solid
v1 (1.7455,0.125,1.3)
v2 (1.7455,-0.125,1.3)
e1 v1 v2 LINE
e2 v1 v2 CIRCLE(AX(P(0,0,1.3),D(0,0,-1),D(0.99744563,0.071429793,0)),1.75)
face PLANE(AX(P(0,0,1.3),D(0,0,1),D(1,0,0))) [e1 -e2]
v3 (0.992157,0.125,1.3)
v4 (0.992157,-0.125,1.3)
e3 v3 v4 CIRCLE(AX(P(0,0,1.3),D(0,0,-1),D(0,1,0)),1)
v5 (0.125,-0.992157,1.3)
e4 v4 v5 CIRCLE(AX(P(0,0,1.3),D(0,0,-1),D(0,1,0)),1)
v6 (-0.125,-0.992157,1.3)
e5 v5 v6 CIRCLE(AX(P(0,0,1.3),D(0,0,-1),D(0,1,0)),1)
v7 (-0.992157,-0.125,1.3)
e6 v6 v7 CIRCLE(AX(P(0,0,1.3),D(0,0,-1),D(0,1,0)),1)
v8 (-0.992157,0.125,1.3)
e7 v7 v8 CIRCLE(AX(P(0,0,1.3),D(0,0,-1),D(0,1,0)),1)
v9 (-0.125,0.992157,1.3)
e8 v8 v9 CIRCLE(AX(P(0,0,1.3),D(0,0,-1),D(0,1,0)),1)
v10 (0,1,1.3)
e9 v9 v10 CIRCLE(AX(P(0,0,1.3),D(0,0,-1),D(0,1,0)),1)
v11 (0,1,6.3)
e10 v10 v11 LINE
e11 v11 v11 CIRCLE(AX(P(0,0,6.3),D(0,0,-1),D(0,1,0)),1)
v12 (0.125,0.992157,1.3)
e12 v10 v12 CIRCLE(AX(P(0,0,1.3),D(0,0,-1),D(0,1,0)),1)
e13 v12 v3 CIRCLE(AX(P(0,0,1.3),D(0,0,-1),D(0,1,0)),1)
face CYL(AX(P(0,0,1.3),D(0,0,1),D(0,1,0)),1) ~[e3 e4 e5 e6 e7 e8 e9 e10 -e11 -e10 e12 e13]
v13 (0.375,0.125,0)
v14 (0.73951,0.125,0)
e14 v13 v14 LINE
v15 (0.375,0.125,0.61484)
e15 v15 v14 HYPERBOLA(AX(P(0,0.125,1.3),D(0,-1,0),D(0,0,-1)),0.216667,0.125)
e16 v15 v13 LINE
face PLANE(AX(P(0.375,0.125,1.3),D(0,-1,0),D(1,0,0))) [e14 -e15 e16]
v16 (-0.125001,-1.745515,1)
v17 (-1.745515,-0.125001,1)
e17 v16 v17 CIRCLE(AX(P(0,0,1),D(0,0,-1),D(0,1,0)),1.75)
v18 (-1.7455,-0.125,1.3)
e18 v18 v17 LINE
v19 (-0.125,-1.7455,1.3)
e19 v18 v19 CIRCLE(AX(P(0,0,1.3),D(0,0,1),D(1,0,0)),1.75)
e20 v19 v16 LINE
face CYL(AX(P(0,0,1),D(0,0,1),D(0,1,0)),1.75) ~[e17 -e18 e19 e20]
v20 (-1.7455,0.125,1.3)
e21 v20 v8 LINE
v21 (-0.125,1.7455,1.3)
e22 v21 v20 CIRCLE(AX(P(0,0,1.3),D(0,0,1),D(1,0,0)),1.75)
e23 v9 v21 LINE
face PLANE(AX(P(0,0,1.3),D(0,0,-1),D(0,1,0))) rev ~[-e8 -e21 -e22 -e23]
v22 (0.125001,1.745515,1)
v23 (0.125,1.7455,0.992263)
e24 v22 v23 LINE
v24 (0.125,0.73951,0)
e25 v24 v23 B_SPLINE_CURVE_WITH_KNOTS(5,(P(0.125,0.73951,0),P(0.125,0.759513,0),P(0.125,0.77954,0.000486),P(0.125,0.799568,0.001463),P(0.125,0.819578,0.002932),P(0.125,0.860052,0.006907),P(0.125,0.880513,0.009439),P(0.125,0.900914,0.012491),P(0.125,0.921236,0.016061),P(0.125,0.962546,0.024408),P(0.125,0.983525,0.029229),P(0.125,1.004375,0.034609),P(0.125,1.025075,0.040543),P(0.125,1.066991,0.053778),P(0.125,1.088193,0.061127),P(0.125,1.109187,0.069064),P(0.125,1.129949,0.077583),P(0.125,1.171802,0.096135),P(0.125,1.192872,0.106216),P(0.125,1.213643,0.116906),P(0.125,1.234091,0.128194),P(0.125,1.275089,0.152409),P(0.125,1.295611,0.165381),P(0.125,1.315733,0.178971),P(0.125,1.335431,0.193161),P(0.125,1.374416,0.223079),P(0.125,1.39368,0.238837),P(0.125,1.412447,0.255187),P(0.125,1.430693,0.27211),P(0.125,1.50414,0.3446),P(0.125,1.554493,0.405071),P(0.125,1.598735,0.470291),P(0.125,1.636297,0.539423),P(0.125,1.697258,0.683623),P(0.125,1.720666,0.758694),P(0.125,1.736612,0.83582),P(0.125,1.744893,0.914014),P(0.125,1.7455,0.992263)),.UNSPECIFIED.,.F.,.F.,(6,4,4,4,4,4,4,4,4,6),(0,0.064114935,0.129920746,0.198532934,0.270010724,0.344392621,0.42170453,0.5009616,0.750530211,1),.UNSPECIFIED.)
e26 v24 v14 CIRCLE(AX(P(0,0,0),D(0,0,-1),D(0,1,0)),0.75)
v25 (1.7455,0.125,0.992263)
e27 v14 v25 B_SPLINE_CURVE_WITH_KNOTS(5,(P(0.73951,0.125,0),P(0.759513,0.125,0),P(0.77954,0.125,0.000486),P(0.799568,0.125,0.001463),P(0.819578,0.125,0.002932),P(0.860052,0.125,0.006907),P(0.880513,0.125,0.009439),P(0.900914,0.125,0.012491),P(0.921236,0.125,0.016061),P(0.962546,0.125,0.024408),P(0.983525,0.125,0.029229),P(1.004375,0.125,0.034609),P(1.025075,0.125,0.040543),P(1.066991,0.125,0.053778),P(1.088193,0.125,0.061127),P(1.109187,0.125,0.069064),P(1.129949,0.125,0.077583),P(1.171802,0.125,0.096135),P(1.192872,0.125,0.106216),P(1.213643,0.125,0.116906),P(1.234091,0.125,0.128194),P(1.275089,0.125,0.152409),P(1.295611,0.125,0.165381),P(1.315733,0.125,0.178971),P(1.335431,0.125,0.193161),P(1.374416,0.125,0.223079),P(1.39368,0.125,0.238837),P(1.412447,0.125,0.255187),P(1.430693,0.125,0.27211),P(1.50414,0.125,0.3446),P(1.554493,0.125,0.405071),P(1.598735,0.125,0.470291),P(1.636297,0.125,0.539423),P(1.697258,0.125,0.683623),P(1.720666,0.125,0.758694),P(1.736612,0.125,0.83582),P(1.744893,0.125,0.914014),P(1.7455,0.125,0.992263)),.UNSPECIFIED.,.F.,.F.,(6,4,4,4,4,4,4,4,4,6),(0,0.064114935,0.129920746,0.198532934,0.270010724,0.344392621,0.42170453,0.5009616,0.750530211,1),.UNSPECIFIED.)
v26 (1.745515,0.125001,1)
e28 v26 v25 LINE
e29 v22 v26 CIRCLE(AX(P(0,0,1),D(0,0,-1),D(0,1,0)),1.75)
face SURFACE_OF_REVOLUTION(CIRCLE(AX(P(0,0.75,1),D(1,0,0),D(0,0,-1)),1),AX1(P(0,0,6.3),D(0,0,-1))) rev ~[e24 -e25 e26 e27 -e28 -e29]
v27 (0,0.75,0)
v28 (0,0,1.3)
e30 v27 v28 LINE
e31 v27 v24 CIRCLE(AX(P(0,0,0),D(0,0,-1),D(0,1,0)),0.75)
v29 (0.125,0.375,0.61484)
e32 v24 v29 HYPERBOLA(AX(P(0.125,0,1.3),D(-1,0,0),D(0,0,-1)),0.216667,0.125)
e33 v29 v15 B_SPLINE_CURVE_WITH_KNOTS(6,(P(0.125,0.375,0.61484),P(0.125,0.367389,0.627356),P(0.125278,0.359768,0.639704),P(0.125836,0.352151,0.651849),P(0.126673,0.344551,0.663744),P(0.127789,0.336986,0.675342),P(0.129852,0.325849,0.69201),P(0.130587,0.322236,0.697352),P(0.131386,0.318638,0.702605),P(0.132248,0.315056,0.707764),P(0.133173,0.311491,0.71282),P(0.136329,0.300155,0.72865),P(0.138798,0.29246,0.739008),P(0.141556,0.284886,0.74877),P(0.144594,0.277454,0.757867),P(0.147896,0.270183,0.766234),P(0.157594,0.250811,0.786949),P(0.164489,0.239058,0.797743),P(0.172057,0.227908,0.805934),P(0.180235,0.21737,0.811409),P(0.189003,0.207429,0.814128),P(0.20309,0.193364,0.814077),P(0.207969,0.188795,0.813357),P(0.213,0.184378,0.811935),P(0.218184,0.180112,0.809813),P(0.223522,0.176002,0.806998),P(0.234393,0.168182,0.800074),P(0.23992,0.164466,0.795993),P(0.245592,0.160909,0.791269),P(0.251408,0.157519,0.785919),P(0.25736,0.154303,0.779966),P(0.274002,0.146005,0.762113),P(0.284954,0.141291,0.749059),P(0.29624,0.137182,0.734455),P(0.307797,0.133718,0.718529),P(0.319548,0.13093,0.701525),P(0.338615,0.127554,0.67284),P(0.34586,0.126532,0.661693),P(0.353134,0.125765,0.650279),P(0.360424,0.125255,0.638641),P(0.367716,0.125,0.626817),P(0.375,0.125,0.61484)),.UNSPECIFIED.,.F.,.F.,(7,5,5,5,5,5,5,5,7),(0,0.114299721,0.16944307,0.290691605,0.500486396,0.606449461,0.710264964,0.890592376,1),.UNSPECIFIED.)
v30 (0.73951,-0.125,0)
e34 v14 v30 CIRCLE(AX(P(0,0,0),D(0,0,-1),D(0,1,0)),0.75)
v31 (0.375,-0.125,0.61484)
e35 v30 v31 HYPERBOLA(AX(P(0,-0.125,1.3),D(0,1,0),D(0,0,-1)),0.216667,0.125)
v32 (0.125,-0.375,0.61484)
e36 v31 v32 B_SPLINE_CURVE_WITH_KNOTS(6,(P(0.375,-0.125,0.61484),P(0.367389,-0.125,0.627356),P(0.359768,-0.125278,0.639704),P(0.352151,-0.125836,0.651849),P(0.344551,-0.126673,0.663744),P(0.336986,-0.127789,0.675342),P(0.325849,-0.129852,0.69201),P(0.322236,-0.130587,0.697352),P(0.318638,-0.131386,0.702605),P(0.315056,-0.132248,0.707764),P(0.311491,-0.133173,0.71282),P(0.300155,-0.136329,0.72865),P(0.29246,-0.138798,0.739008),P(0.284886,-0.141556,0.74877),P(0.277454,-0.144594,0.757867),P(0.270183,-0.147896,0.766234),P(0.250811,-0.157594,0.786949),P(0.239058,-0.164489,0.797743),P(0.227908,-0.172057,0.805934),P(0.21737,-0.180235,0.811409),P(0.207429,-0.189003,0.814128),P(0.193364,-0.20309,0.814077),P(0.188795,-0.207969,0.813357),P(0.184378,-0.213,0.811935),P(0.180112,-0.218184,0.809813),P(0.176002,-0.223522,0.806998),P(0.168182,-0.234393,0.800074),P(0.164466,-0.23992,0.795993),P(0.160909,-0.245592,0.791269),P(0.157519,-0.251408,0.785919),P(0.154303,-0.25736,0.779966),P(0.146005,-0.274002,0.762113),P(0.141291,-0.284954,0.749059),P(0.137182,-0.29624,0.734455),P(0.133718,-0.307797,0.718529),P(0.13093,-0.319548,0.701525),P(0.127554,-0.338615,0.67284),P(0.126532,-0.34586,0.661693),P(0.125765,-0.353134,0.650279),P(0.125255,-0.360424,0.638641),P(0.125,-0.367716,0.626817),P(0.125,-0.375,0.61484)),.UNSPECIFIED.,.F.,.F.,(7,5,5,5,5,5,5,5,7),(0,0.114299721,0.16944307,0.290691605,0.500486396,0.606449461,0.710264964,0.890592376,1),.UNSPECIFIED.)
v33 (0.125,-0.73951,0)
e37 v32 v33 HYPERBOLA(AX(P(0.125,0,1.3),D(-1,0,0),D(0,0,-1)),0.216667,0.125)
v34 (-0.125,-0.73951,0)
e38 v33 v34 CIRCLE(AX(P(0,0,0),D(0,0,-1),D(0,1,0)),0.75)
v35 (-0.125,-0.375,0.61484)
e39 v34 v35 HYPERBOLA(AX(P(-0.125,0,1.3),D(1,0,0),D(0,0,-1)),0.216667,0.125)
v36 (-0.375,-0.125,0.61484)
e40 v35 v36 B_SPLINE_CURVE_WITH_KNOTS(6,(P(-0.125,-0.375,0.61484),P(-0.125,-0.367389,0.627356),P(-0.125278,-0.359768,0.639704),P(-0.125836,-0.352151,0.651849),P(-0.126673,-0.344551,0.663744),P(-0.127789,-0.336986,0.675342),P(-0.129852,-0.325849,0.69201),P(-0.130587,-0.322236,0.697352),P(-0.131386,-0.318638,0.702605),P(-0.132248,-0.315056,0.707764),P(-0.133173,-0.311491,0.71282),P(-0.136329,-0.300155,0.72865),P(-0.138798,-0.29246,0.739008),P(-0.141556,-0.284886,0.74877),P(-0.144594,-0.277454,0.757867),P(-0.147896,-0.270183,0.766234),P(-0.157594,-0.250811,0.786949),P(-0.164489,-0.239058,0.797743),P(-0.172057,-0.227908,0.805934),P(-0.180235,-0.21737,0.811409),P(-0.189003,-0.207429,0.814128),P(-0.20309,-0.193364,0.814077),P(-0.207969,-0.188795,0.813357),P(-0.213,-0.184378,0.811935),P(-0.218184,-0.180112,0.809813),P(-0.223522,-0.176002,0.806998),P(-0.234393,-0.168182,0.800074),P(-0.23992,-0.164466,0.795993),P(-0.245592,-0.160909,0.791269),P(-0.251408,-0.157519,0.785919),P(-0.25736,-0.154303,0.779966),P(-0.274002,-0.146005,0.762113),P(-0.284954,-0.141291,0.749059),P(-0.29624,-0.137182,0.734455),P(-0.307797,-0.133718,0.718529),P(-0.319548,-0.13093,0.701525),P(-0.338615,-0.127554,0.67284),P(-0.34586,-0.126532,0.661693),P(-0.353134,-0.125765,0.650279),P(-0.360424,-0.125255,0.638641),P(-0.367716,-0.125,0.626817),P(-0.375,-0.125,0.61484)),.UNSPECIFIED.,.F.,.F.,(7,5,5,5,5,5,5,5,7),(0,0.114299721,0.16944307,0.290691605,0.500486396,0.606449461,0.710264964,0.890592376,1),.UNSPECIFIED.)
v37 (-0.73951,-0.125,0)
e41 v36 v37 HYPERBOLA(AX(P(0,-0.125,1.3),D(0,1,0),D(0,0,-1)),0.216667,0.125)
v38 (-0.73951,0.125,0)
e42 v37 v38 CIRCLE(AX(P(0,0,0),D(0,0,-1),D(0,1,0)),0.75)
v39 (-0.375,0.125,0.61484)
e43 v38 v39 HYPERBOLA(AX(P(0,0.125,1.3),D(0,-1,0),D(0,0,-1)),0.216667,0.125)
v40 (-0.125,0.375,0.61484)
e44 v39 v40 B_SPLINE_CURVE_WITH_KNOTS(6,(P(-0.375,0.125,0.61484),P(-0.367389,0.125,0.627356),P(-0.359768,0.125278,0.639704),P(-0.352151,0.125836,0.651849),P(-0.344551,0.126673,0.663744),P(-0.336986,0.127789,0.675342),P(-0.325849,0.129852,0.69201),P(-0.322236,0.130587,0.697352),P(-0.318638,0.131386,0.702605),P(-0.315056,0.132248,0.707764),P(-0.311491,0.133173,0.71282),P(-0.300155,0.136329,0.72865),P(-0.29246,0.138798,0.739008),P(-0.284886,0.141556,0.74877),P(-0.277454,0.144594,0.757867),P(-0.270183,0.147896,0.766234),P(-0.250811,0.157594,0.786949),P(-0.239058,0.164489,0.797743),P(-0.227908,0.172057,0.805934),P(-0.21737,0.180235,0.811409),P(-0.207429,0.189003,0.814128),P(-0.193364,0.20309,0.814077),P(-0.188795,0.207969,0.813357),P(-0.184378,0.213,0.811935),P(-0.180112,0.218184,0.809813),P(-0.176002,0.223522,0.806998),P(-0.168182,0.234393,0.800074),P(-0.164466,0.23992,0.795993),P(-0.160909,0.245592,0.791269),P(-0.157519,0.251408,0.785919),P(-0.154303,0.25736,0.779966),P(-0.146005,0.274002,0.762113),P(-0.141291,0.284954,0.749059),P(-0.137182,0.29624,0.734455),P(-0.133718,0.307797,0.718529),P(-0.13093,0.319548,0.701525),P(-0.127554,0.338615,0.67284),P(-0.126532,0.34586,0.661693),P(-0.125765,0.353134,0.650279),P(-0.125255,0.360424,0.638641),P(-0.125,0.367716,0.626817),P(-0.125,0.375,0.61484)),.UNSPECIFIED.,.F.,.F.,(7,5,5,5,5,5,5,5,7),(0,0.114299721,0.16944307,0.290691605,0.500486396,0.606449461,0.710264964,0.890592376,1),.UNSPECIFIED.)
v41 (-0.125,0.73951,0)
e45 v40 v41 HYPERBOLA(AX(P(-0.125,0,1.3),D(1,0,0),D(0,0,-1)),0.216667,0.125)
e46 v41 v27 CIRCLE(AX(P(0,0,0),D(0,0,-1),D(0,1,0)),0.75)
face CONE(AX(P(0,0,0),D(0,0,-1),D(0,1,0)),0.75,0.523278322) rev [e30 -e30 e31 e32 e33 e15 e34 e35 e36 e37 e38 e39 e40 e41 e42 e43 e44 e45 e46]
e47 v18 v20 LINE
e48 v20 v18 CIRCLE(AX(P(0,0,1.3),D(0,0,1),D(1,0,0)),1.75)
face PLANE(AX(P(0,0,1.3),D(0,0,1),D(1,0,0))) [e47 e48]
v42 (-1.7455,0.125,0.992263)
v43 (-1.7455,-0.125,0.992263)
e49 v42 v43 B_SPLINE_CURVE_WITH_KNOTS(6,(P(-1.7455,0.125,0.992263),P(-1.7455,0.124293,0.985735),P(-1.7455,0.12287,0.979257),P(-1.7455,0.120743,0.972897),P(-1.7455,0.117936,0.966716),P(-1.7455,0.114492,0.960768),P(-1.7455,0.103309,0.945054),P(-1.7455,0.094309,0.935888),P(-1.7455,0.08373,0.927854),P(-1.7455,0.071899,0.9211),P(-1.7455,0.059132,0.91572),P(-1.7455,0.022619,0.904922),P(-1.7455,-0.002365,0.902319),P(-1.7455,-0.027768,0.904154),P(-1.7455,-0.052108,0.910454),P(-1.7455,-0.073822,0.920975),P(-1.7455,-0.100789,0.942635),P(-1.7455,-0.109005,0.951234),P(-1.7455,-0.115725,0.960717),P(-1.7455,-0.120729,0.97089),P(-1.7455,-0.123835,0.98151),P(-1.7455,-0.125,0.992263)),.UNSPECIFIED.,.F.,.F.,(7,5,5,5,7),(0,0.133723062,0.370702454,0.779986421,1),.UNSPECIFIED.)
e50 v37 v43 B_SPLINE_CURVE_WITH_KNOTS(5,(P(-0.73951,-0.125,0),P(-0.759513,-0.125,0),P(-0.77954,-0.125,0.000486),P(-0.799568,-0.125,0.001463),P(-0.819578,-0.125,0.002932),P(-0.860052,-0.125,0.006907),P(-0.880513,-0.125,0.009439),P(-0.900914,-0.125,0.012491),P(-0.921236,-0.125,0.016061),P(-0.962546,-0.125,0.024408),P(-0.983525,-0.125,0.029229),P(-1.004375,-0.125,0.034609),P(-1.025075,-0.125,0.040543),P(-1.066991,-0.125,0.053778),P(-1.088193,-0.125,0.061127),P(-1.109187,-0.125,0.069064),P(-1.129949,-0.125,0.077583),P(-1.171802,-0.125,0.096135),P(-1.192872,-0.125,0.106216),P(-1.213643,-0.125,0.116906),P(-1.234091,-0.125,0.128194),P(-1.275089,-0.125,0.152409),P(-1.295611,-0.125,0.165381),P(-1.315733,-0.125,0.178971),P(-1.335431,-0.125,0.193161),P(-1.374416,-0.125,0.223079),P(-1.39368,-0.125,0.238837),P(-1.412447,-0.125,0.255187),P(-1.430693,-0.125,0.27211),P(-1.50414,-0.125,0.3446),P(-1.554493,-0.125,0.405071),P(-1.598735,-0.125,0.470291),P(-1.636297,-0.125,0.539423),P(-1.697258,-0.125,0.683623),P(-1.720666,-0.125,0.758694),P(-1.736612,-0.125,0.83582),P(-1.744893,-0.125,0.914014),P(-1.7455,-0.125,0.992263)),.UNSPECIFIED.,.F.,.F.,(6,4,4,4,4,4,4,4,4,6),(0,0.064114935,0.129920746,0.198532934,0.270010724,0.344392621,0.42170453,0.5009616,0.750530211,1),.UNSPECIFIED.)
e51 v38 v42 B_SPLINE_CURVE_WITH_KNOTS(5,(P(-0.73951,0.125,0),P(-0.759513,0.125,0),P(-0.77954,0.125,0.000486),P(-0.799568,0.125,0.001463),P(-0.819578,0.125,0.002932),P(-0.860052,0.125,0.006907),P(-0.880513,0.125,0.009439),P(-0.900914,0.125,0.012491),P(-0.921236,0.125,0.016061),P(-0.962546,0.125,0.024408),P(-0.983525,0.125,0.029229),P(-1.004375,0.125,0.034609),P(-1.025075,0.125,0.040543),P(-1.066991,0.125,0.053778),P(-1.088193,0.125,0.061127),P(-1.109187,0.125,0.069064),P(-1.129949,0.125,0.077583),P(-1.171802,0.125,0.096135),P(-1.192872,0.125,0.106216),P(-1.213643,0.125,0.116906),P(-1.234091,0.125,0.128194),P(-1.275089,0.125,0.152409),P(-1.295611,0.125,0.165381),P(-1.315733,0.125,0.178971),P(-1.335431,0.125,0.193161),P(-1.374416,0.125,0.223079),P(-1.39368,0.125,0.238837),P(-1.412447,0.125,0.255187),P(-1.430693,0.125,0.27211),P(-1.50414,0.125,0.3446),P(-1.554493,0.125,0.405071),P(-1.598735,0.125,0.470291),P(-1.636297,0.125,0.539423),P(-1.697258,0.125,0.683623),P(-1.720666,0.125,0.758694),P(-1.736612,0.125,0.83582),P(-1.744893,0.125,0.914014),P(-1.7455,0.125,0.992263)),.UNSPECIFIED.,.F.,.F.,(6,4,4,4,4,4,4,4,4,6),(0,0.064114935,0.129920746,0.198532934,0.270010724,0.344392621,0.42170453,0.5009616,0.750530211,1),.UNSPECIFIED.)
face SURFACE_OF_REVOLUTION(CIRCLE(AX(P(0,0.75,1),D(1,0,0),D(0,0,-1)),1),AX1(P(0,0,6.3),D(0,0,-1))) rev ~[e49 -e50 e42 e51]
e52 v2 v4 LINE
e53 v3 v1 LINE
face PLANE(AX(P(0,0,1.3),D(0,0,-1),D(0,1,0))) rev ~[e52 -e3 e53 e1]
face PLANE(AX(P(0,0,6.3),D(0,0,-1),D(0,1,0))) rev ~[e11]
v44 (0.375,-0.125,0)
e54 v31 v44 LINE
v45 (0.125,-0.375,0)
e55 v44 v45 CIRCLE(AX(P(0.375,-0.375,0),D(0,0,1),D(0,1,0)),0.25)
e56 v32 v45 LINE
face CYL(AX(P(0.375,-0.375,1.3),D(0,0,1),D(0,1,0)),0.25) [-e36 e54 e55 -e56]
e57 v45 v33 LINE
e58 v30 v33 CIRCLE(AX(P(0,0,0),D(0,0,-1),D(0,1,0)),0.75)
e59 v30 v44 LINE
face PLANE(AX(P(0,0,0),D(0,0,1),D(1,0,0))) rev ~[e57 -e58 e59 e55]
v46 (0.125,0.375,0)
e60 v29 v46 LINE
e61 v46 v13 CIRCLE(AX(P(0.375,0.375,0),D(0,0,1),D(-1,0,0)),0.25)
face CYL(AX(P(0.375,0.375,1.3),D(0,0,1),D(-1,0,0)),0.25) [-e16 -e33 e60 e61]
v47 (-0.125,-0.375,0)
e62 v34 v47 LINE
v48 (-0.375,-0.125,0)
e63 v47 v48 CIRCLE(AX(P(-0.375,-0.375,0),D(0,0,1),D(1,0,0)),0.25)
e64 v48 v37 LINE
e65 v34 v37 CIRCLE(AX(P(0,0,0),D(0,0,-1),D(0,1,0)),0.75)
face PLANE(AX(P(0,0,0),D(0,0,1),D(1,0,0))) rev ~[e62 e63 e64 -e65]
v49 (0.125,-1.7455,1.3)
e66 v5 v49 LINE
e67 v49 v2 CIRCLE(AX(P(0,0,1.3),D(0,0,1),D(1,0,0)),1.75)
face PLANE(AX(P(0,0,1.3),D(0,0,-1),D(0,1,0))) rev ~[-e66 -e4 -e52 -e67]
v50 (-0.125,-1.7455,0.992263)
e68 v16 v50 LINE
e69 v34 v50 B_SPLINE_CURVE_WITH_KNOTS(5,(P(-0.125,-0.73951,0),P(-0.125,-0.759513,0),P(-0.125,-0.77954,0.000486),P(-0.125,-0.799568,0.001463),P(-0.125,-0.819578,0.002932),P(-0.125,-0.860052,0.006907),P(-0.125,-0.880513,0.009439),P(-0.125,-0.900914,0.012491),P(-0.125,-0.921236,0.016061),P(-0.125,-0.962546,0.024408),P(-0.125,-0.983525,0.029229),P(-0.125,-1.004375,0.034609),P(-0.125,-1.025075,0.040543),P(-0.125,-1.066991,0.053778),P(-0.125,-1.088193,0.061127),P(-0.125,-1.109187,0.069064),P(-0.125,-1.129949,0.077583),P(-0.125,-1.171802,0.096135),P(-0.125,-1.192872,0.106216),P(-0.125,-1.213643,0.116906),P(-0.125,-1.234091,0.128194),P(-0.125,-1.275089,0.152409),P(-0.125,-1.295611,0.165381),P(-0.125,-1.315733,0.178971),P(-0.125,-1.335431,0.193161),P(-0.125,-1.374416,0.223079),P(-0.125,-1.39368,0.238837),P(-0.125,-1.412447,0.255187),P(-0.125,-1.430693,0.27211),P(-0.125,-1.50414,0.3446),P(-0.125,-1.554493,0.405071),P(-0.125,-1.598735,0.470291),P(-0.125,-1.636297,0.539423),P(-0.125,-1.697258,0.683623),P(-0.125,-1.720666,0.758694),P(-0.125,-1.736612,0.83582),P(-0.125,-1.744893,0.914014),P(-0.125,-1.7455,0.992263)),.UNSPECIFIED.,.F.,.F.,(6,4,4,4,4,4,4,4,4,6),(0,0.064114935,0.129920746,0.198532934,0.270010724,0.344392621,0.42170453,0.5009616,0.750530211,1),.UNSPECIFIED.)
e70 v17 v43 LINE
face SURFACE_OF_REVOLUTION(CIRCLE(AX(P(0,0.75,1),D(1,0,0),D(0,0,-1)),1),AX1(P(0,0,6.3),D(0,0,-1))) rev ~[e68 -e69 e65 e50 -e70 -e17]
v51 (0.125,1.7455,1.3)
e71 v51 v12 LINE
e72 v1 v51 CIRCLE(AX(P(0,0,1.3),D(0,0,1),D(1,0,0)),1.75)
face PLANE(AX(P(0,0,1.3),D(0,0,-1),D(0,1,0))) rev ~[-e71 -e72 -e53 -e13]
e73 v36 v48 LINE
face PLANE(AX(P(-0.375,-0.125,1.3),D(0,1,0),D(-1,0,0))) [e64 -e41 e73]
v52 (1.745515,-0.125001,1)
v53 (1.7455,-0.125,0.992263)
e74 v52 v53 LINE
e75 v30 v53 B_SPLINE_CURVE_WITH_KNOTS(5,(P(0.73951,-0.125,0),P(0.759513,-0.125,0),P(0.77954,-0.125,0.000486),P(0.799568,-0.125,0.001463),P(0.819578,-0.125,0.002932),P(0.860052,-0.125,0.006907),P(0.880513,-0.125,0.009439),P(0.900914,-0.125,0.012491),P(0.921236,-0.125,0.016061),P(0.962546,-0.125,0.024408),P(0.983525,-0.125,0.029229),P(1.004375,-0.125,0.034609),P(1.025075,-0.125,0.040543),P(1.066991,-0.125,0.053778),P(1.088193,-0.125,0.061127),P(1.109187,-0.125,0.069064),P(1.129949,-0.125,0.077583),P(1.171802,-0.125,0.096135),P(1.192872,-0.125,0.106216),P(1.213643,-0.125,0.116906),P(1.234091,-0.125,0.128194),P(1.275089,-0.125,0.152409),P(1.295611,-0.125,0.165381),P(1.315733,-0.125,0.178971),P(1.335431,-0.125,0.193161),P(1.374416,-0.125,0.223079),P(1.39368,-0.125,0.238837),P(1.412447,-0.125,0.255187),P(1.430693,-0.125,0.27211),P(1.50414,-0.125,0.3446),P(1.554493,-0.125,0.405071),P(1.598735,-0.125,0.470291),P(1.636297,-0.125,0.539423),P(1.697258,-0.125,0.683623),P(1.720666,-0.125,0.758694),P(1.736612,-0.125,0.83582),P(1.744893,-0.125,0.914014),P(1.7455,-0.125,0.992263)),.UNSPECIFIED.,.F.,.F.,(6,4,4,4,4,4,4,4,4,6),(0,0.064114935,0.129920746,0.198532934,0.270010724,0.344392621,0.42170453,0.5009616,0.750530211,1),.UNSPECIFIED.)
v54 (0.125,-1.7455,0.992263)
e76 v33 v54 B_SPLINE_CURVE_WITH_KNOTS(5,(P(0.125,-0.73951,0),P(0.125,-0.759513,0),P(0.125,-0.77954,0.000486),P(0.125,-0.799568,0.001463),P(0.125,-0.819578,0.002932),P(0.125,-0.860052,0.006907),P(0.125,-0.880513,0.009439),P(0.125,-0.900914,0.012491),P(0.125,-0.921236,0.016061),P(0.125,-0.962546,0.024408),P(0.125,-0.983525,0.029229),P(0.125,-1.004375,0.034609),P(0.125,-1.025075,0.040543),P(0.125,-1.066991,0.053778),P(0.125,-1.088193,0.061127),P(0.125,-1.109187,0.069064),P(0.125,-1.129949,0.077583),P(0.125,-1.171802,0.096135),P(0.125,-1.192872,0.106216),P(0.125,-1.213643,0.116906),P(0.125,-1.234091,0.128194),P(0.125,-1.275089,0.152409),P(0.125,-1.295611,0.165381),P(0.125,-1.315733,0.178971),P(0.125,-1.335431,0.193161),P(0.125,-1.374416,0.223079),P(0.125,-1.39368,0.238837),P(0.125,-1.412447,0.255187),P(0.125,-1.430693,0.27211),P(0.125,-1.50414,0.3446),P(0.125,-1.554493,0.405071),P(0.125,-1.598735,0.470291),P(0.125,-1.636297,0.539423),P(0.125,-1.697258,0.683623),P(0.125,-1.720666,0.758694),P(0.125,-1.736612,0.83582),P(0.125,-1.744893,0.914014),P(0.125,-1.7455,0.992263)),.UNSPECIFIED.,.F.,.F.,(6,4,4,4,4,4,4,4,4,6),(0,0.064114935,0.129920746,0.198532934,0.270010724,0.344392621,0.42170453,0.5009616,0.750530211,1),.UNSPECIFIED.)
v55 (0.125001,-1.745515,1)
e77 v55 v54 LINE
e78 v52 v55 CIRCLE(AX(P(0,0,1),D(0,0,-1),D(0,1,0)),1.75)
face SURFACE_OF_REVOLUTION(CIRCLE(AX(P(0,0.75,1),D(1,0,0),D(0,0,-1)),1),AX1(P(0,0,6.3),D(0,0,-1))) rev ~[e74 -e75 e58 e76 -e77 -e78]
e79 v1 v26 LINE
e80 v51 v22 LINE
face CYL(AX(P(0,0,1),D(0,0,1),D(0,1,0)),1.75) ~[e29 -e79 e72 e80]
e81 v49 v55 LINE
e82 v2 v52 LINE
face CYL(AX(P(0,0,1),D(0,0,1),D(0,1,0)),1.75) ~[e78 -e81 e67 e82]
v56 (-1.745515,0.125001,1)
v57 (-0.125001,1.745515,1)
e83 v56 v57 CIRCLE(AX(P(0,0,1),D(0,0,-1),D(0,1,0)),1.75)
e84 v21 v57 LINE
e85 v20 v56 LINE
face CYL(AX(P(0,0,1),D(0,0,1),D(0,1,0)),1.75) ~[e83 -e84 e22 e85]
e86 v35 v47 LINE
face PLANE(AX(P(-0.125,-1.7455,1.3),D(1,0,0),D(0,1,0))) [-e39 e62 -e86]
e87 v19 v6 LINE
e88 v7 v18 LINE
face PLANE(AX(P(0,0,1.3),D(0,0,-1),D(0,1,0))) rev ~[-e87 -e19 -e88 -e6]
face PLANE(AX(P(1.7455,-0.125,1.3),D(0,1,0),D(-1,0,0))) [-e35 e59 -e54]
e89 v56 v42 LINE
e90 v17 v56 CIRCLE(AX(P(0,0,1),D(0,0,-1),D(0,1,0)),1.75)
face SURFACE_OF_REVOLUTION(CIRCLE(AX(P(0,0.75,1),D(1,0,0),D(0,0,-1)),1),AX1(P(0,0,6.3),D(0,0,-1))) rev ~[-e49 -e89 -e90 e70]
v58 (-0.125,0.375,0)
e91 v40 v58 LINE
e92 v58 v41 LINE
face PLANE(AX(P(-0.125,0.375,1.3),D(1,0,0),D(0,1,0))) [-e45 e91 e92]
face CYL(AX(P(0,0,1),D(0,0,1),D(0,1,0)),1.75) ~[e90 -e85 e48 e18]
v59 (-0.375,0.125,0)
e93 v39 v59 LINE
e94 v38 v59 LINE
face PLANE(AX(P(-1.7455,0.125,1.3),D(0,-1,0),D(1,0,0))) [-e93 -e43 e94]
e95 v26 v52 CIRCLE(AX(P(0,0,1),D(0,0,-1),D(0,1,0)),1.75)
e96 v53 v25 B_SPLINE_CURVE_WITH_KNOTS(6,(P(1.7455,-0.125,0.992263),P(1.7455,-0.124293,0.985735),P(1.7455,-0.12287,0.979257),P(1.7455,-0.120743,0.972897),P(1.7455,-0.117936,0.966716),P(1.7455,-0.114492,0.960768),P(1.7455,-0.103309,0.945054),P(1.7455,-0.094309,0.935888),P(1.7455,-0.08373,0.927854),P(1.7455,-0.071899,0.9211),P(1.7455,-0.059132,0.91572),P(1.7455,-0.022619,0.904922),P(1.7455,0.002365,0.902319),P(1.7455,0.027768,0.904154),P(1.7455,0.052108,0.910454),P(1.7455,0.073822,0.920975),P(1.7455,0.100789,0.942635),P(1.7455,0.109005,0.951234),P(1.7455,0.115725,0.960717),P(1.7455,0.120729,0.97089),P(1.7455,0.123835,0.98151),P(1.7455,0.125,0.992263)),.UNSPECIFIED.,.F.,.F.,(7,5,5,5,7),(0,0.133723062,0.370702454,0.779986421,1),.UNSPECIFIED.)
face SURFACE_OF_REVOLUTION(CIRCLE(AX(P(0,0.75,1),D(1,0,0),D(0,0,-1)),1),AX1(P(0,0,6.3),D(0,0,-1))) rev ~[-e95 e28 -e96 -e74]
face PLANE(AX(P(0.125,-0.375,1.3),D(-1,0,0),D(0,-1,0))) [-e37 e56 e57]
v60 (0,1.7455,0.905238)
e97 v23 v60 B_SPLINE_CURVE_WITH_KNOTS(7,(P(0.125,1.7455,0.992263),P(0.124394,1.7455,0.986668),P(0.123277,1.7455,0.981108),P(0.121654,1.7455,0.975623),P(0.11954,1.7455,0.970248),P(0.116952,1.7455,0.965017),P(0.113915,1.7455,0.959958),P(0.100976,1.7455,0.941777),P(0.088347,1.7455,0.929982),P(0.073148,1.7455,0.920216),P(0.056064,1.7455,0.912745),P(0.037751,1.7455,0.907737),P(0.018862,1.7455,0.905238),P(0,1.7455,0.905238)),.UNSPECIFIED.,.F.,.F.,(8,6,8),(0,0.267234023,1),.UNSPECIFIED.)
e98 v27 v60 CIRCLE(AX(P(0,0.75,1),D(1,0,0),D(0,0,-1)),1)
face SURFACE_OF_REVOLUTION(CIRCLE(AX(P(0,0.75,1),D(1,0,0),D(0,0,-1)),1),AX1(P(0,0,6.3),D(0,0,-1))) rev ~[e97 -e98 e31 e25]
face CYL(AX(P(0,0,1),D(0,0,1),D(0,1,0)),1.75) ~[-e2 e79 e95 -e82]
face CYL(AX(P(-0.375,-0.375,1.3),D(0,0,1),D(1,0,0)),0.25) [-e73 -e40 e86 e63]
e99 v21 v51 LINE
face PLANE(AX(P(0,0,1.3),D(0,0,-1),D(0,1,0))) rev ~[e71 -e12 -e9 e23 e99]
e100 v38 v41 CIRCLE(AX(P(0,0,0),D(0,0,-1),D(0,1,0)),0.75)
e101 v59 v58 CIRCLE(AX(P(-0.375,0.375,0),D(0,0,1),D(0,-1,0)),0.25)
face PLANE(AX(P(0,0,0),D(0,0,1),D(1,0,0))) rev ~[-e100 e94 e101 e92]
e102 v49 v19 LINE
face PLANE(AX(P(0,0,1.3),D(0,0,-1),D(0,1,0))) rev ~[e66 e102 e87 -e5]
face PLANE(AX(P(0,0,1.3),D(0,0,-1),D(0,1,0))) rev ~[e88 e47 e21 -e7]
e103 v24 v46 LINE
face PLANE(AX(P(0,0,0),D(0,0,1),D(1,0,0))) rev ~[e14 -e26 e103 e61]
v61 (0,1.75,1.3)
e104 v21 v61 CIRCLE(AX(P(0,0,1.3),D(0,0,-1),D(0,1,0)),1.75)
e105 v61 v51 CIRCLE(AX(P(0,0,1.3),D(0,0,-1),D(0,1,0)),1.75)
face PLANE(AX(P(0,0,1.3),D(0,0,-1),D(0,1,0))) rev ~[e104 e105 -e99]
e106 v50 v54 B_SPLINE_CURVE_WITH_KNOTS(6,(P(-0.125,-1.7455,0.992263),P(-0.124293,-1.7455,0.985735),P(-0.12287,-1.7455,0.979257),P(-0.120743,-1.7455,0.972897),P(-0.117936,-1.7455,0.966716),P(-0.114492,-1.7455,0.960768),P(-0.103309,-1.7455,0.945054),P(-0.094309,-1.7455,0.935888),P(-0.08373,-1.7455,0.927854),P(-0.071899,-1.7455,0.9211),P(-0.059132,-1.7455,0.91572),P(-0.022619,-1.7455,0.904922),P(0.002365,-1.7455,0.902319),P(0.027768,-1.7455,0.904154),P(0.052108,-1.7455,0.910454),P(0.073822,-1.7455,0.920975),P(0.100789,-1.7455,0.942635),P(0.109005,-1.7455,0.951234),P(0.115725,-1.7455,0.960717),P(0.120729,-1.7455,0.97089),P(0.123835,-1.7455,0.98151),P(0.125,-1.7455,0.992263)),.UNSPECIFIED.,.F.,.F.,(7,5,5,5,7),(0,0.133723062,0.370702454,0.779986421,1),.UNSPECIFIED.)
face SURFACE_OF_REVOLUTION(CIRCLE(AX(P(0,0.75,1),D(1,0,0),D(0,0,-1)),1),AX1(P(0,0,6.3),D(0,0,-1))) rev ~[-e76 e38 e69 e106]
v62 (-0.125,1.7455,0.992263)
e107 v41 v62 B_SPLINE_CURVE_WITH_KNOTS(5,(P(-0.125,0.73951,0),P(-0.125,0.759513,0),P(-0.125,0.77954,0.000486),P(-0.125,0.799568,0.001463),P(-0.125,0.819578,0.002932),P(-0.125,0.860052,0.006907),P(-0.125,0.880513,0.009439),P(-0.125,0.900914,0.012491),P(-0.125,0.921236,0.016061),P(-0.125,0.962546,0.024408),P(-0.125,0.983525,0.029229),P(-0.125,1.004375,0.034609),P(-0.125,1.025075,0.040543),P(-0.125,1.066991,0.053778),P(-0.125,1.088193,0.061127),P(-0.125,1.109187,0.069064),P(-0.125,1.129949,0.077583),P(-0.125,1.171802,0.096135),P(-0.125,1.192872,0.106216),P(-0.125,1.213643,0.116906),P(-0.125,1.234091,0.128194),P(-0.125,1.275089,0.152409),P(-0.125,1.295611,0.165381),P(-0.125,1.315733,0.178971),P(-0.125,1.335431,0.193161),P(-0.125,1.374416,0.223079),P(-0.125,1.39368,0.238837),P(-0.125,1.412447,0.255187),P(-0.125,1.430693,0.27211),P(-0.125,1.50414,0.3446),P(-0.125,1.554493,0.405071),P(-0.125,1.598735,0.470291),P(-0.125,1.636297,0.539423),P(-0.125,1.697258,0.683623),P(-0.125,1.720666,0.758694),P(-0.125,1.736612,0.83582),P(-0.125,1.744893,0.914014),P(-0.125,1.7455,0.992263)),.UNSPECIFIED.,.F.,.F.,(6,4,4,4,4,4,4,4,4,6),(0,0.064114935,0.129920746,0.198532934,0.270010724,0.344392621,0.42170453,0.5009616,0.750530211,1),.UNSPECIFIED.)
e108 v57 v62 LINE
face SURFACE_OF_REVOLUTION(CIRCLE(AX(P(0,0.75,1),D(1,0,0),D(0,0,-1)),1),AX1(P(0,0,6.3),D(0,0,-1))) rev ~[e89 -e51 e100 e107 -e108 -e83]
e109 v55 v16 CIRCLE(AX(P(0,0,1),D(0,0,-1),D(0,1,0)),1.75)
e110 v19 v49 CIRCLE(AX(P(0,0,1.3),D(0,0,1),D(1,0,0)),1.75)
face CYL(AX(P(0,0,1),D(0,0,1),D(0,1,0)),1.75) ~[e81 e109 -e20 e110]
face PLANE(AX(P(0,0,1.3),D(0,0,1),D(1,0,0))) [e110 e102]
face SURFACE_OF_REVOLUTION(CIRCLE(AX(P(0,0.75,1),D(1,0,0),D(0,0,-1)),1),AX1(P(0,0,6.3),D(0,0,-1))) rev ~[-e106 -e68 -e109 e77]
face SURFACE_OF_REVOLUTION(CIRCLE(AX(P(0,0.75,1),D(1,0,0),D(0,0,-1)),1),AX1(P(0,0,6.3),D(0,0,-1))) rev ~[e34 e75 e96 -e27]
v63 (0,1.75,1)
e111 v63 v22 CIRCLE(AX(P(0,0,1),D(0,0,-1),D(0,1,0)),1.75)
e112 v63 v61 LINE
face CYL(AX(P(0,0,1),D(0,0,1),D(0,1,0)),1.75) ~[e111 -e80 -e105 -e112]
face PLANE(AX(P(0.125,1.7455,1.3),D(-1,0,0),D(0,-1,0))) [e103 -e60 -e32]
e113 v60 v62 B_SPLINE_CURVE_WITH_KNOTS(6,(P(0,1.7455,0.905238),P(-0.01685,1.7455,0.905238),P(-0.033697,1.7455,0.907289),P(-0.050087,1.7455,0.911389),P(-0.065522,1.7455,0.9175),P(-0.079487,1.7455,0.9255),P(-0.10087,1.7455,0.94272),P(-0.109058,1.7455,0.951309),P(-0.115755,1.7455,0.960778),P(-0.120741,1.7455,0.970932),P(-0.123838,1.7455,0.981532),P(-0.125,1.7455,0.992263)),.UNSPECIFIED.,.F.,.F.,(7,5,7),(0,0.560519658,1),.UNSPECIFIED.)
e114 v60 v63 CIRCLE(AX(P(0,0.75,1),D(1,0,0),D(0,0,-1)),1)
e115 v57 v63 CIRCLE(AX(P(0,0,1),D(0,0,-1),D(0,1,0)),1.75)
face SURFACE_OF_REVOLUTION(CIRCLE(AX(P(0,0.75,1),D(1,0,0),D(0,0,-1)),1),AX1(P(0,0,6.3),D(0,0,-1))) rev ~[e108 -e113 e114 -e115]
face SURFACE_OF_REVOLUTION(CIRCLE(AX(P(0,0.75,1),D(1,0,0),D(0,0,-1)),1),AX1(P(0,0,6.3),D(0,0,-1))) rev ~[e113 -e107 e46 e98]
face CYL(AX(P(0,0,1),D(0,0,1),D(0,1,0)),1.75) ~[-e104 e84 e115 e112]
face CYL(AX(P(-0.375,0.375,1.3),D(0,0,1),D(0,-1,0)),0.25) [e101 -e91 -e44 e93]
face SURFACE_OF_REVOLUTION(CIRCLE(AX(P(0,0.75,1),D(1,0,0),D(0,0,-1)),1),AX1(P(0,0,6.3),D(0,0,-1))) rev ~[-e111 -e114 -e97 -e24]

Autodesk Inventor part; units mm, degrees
ref_plane "YZ Plane" through (0, 0, 0) normal (1, 0, 0) x (0, 1, 0)
ref_plane "XZ Plane" through (0, 0, 0) normal (0, 1, 0) x (-1, 0, 0)
ref_plane "XY Plane" through (0, 0, 0) normal (0, 0, 1) x (1, 0, 0)
sketch "スケッチ1" plane through (0, 0, 0) normal (1, 0, 0) x (0, 1, 0)
  line L0 (0, 6.3) -> (0, 0)
  line L1 (0, 0) -> (0.75, 0)
  line L2 (1.75, 1) -> (1.75, 1.3)
  line L3 (1.75, 1.3) -> (1, 1.3)
  line L4 (1, 1.3) -> (1, 6.3)
  line L5 (1, 6.3) -> (0, 6.3)
  line L6 (0.75, 0) -> (0, 1.3)
  arc A0 (0.75, 0) -> (1.75, 1) centre (0.75, 1) ccw
  line L7 (0.75, 0) -> (1.75, 0)
  line L8 (1.75, 0) -> (1.75, 1)
  dimension "d2" = 1.3
  dimension "d10" = 5
  dimension "d11" = 2
  dimension "d12" = 3.5
  dimension "d14" = 1
revolve "回転1" add sketch "スケッチ1" angle 360 about axis through (0, 0, 6.3) along (0, 0, -1) contours L5 L4 L3 L2 A0 L6 L0
thread "ねじ1" size "M2x0.4" class "6g" standard "ANSI Metric M Profile" full length
sketch "スケッチ2" plane through (0, 0, 1.3) normal (0, 0, 1) x (1, 0, 0)
  line L0 (0.125, -1.7455) -> (-0.125, -1.7455)
  line L1 (-0.125, -1.7455) -> (-0.125, -0.375)
  line L2 (-0.125, 1.7455) -> (0.125, 1.7455)
  line L3 (0.125, 1.7455) -> (0.125, 0.375)
  line L4 (0.125, -1.7455) -> (-0.125, 1.7455) construction
  line L5 (-0.125, -1.7455) -> (0.125, 1.7455) construction
  line L6 (-1.7455, 0.125) -> (-0.375, 0.125)
  line L7 (1.7455, 0.125) -> (1.7455, -0.125)
  line L8 (1.7455, -0.125) -> (0.375, -0.125)
  line L9 (-1.7455, -0.125) -> (-1.7455, 0.125)
  line L10 (-1.7455, 0.125) -> (1.7455, -0.125) construction
  line L11 (1.7455, 0.125) -> (-1.7455, -0.125) construction
  line L12 (0.125, -0.375) -> (0.125, -1.7455)
  line L13 (0.375, 0.125) -> (1.7455, 0.125)
  line L14 (-0.375, -0.125) -> (-1.7455, -0.125)
  line L15 (-0.125, 0.375) -> (-0.125, 1.7455)
  arc A0 (0.375, -0.125) -> (0.125, -0.375) centre (0.375, -0.375) ccw
  arc A1 (0.125, 0.375) -> (0.375, 0.125) centre (0.375, 0.375) ccw
  arc A2 (-0.375, 0.125) -> (-0.125, 0.375) centre (-0.375, 0.375) ccw
  arc A3 (-0.125, -0.375) -> (-0.375, -0.125) centre (-0.375, -0.375) ccw
  circle A4 centre (0, 0) radius 1.75 projected
  line L16 (0, 1.75) -> (0, -1.75) construction
  line L17 (1.7455, 0) -> (-1.7455, 0) construction
  point P0 (-0.3339, -0.2226)
  point P1 (-0.3339, 0.2226)
  point P2 (0.3339, 0.2226)
  point P3 (0.3339, -0.2226)
  point P4 (0, 0)
  dimension "d18" = 0.25
  dimension "d19" = 0.25
  dimension "d20" = 0.25
extrude "押し出し2" add sketch "スケッチ2" against normal blind 1.3 contours A4 L0 | L12 A0 L8 A4 | A4 L14 A3 L1 | L7 A4 | A4 L9 | L13 A1 L3 A4 | A4 L15 A2 L6 | L2 A4
revolve "回転2" cut sketch "スケッチ1" angle 360 about axis through (0, 0, 6.3) along (0, 0, -1) contours A0 L8 L7
equation "\"d19\" = d20"
equation "\"d20\" = d18"
properties part number "U-0205" material "Stainless Steel"
